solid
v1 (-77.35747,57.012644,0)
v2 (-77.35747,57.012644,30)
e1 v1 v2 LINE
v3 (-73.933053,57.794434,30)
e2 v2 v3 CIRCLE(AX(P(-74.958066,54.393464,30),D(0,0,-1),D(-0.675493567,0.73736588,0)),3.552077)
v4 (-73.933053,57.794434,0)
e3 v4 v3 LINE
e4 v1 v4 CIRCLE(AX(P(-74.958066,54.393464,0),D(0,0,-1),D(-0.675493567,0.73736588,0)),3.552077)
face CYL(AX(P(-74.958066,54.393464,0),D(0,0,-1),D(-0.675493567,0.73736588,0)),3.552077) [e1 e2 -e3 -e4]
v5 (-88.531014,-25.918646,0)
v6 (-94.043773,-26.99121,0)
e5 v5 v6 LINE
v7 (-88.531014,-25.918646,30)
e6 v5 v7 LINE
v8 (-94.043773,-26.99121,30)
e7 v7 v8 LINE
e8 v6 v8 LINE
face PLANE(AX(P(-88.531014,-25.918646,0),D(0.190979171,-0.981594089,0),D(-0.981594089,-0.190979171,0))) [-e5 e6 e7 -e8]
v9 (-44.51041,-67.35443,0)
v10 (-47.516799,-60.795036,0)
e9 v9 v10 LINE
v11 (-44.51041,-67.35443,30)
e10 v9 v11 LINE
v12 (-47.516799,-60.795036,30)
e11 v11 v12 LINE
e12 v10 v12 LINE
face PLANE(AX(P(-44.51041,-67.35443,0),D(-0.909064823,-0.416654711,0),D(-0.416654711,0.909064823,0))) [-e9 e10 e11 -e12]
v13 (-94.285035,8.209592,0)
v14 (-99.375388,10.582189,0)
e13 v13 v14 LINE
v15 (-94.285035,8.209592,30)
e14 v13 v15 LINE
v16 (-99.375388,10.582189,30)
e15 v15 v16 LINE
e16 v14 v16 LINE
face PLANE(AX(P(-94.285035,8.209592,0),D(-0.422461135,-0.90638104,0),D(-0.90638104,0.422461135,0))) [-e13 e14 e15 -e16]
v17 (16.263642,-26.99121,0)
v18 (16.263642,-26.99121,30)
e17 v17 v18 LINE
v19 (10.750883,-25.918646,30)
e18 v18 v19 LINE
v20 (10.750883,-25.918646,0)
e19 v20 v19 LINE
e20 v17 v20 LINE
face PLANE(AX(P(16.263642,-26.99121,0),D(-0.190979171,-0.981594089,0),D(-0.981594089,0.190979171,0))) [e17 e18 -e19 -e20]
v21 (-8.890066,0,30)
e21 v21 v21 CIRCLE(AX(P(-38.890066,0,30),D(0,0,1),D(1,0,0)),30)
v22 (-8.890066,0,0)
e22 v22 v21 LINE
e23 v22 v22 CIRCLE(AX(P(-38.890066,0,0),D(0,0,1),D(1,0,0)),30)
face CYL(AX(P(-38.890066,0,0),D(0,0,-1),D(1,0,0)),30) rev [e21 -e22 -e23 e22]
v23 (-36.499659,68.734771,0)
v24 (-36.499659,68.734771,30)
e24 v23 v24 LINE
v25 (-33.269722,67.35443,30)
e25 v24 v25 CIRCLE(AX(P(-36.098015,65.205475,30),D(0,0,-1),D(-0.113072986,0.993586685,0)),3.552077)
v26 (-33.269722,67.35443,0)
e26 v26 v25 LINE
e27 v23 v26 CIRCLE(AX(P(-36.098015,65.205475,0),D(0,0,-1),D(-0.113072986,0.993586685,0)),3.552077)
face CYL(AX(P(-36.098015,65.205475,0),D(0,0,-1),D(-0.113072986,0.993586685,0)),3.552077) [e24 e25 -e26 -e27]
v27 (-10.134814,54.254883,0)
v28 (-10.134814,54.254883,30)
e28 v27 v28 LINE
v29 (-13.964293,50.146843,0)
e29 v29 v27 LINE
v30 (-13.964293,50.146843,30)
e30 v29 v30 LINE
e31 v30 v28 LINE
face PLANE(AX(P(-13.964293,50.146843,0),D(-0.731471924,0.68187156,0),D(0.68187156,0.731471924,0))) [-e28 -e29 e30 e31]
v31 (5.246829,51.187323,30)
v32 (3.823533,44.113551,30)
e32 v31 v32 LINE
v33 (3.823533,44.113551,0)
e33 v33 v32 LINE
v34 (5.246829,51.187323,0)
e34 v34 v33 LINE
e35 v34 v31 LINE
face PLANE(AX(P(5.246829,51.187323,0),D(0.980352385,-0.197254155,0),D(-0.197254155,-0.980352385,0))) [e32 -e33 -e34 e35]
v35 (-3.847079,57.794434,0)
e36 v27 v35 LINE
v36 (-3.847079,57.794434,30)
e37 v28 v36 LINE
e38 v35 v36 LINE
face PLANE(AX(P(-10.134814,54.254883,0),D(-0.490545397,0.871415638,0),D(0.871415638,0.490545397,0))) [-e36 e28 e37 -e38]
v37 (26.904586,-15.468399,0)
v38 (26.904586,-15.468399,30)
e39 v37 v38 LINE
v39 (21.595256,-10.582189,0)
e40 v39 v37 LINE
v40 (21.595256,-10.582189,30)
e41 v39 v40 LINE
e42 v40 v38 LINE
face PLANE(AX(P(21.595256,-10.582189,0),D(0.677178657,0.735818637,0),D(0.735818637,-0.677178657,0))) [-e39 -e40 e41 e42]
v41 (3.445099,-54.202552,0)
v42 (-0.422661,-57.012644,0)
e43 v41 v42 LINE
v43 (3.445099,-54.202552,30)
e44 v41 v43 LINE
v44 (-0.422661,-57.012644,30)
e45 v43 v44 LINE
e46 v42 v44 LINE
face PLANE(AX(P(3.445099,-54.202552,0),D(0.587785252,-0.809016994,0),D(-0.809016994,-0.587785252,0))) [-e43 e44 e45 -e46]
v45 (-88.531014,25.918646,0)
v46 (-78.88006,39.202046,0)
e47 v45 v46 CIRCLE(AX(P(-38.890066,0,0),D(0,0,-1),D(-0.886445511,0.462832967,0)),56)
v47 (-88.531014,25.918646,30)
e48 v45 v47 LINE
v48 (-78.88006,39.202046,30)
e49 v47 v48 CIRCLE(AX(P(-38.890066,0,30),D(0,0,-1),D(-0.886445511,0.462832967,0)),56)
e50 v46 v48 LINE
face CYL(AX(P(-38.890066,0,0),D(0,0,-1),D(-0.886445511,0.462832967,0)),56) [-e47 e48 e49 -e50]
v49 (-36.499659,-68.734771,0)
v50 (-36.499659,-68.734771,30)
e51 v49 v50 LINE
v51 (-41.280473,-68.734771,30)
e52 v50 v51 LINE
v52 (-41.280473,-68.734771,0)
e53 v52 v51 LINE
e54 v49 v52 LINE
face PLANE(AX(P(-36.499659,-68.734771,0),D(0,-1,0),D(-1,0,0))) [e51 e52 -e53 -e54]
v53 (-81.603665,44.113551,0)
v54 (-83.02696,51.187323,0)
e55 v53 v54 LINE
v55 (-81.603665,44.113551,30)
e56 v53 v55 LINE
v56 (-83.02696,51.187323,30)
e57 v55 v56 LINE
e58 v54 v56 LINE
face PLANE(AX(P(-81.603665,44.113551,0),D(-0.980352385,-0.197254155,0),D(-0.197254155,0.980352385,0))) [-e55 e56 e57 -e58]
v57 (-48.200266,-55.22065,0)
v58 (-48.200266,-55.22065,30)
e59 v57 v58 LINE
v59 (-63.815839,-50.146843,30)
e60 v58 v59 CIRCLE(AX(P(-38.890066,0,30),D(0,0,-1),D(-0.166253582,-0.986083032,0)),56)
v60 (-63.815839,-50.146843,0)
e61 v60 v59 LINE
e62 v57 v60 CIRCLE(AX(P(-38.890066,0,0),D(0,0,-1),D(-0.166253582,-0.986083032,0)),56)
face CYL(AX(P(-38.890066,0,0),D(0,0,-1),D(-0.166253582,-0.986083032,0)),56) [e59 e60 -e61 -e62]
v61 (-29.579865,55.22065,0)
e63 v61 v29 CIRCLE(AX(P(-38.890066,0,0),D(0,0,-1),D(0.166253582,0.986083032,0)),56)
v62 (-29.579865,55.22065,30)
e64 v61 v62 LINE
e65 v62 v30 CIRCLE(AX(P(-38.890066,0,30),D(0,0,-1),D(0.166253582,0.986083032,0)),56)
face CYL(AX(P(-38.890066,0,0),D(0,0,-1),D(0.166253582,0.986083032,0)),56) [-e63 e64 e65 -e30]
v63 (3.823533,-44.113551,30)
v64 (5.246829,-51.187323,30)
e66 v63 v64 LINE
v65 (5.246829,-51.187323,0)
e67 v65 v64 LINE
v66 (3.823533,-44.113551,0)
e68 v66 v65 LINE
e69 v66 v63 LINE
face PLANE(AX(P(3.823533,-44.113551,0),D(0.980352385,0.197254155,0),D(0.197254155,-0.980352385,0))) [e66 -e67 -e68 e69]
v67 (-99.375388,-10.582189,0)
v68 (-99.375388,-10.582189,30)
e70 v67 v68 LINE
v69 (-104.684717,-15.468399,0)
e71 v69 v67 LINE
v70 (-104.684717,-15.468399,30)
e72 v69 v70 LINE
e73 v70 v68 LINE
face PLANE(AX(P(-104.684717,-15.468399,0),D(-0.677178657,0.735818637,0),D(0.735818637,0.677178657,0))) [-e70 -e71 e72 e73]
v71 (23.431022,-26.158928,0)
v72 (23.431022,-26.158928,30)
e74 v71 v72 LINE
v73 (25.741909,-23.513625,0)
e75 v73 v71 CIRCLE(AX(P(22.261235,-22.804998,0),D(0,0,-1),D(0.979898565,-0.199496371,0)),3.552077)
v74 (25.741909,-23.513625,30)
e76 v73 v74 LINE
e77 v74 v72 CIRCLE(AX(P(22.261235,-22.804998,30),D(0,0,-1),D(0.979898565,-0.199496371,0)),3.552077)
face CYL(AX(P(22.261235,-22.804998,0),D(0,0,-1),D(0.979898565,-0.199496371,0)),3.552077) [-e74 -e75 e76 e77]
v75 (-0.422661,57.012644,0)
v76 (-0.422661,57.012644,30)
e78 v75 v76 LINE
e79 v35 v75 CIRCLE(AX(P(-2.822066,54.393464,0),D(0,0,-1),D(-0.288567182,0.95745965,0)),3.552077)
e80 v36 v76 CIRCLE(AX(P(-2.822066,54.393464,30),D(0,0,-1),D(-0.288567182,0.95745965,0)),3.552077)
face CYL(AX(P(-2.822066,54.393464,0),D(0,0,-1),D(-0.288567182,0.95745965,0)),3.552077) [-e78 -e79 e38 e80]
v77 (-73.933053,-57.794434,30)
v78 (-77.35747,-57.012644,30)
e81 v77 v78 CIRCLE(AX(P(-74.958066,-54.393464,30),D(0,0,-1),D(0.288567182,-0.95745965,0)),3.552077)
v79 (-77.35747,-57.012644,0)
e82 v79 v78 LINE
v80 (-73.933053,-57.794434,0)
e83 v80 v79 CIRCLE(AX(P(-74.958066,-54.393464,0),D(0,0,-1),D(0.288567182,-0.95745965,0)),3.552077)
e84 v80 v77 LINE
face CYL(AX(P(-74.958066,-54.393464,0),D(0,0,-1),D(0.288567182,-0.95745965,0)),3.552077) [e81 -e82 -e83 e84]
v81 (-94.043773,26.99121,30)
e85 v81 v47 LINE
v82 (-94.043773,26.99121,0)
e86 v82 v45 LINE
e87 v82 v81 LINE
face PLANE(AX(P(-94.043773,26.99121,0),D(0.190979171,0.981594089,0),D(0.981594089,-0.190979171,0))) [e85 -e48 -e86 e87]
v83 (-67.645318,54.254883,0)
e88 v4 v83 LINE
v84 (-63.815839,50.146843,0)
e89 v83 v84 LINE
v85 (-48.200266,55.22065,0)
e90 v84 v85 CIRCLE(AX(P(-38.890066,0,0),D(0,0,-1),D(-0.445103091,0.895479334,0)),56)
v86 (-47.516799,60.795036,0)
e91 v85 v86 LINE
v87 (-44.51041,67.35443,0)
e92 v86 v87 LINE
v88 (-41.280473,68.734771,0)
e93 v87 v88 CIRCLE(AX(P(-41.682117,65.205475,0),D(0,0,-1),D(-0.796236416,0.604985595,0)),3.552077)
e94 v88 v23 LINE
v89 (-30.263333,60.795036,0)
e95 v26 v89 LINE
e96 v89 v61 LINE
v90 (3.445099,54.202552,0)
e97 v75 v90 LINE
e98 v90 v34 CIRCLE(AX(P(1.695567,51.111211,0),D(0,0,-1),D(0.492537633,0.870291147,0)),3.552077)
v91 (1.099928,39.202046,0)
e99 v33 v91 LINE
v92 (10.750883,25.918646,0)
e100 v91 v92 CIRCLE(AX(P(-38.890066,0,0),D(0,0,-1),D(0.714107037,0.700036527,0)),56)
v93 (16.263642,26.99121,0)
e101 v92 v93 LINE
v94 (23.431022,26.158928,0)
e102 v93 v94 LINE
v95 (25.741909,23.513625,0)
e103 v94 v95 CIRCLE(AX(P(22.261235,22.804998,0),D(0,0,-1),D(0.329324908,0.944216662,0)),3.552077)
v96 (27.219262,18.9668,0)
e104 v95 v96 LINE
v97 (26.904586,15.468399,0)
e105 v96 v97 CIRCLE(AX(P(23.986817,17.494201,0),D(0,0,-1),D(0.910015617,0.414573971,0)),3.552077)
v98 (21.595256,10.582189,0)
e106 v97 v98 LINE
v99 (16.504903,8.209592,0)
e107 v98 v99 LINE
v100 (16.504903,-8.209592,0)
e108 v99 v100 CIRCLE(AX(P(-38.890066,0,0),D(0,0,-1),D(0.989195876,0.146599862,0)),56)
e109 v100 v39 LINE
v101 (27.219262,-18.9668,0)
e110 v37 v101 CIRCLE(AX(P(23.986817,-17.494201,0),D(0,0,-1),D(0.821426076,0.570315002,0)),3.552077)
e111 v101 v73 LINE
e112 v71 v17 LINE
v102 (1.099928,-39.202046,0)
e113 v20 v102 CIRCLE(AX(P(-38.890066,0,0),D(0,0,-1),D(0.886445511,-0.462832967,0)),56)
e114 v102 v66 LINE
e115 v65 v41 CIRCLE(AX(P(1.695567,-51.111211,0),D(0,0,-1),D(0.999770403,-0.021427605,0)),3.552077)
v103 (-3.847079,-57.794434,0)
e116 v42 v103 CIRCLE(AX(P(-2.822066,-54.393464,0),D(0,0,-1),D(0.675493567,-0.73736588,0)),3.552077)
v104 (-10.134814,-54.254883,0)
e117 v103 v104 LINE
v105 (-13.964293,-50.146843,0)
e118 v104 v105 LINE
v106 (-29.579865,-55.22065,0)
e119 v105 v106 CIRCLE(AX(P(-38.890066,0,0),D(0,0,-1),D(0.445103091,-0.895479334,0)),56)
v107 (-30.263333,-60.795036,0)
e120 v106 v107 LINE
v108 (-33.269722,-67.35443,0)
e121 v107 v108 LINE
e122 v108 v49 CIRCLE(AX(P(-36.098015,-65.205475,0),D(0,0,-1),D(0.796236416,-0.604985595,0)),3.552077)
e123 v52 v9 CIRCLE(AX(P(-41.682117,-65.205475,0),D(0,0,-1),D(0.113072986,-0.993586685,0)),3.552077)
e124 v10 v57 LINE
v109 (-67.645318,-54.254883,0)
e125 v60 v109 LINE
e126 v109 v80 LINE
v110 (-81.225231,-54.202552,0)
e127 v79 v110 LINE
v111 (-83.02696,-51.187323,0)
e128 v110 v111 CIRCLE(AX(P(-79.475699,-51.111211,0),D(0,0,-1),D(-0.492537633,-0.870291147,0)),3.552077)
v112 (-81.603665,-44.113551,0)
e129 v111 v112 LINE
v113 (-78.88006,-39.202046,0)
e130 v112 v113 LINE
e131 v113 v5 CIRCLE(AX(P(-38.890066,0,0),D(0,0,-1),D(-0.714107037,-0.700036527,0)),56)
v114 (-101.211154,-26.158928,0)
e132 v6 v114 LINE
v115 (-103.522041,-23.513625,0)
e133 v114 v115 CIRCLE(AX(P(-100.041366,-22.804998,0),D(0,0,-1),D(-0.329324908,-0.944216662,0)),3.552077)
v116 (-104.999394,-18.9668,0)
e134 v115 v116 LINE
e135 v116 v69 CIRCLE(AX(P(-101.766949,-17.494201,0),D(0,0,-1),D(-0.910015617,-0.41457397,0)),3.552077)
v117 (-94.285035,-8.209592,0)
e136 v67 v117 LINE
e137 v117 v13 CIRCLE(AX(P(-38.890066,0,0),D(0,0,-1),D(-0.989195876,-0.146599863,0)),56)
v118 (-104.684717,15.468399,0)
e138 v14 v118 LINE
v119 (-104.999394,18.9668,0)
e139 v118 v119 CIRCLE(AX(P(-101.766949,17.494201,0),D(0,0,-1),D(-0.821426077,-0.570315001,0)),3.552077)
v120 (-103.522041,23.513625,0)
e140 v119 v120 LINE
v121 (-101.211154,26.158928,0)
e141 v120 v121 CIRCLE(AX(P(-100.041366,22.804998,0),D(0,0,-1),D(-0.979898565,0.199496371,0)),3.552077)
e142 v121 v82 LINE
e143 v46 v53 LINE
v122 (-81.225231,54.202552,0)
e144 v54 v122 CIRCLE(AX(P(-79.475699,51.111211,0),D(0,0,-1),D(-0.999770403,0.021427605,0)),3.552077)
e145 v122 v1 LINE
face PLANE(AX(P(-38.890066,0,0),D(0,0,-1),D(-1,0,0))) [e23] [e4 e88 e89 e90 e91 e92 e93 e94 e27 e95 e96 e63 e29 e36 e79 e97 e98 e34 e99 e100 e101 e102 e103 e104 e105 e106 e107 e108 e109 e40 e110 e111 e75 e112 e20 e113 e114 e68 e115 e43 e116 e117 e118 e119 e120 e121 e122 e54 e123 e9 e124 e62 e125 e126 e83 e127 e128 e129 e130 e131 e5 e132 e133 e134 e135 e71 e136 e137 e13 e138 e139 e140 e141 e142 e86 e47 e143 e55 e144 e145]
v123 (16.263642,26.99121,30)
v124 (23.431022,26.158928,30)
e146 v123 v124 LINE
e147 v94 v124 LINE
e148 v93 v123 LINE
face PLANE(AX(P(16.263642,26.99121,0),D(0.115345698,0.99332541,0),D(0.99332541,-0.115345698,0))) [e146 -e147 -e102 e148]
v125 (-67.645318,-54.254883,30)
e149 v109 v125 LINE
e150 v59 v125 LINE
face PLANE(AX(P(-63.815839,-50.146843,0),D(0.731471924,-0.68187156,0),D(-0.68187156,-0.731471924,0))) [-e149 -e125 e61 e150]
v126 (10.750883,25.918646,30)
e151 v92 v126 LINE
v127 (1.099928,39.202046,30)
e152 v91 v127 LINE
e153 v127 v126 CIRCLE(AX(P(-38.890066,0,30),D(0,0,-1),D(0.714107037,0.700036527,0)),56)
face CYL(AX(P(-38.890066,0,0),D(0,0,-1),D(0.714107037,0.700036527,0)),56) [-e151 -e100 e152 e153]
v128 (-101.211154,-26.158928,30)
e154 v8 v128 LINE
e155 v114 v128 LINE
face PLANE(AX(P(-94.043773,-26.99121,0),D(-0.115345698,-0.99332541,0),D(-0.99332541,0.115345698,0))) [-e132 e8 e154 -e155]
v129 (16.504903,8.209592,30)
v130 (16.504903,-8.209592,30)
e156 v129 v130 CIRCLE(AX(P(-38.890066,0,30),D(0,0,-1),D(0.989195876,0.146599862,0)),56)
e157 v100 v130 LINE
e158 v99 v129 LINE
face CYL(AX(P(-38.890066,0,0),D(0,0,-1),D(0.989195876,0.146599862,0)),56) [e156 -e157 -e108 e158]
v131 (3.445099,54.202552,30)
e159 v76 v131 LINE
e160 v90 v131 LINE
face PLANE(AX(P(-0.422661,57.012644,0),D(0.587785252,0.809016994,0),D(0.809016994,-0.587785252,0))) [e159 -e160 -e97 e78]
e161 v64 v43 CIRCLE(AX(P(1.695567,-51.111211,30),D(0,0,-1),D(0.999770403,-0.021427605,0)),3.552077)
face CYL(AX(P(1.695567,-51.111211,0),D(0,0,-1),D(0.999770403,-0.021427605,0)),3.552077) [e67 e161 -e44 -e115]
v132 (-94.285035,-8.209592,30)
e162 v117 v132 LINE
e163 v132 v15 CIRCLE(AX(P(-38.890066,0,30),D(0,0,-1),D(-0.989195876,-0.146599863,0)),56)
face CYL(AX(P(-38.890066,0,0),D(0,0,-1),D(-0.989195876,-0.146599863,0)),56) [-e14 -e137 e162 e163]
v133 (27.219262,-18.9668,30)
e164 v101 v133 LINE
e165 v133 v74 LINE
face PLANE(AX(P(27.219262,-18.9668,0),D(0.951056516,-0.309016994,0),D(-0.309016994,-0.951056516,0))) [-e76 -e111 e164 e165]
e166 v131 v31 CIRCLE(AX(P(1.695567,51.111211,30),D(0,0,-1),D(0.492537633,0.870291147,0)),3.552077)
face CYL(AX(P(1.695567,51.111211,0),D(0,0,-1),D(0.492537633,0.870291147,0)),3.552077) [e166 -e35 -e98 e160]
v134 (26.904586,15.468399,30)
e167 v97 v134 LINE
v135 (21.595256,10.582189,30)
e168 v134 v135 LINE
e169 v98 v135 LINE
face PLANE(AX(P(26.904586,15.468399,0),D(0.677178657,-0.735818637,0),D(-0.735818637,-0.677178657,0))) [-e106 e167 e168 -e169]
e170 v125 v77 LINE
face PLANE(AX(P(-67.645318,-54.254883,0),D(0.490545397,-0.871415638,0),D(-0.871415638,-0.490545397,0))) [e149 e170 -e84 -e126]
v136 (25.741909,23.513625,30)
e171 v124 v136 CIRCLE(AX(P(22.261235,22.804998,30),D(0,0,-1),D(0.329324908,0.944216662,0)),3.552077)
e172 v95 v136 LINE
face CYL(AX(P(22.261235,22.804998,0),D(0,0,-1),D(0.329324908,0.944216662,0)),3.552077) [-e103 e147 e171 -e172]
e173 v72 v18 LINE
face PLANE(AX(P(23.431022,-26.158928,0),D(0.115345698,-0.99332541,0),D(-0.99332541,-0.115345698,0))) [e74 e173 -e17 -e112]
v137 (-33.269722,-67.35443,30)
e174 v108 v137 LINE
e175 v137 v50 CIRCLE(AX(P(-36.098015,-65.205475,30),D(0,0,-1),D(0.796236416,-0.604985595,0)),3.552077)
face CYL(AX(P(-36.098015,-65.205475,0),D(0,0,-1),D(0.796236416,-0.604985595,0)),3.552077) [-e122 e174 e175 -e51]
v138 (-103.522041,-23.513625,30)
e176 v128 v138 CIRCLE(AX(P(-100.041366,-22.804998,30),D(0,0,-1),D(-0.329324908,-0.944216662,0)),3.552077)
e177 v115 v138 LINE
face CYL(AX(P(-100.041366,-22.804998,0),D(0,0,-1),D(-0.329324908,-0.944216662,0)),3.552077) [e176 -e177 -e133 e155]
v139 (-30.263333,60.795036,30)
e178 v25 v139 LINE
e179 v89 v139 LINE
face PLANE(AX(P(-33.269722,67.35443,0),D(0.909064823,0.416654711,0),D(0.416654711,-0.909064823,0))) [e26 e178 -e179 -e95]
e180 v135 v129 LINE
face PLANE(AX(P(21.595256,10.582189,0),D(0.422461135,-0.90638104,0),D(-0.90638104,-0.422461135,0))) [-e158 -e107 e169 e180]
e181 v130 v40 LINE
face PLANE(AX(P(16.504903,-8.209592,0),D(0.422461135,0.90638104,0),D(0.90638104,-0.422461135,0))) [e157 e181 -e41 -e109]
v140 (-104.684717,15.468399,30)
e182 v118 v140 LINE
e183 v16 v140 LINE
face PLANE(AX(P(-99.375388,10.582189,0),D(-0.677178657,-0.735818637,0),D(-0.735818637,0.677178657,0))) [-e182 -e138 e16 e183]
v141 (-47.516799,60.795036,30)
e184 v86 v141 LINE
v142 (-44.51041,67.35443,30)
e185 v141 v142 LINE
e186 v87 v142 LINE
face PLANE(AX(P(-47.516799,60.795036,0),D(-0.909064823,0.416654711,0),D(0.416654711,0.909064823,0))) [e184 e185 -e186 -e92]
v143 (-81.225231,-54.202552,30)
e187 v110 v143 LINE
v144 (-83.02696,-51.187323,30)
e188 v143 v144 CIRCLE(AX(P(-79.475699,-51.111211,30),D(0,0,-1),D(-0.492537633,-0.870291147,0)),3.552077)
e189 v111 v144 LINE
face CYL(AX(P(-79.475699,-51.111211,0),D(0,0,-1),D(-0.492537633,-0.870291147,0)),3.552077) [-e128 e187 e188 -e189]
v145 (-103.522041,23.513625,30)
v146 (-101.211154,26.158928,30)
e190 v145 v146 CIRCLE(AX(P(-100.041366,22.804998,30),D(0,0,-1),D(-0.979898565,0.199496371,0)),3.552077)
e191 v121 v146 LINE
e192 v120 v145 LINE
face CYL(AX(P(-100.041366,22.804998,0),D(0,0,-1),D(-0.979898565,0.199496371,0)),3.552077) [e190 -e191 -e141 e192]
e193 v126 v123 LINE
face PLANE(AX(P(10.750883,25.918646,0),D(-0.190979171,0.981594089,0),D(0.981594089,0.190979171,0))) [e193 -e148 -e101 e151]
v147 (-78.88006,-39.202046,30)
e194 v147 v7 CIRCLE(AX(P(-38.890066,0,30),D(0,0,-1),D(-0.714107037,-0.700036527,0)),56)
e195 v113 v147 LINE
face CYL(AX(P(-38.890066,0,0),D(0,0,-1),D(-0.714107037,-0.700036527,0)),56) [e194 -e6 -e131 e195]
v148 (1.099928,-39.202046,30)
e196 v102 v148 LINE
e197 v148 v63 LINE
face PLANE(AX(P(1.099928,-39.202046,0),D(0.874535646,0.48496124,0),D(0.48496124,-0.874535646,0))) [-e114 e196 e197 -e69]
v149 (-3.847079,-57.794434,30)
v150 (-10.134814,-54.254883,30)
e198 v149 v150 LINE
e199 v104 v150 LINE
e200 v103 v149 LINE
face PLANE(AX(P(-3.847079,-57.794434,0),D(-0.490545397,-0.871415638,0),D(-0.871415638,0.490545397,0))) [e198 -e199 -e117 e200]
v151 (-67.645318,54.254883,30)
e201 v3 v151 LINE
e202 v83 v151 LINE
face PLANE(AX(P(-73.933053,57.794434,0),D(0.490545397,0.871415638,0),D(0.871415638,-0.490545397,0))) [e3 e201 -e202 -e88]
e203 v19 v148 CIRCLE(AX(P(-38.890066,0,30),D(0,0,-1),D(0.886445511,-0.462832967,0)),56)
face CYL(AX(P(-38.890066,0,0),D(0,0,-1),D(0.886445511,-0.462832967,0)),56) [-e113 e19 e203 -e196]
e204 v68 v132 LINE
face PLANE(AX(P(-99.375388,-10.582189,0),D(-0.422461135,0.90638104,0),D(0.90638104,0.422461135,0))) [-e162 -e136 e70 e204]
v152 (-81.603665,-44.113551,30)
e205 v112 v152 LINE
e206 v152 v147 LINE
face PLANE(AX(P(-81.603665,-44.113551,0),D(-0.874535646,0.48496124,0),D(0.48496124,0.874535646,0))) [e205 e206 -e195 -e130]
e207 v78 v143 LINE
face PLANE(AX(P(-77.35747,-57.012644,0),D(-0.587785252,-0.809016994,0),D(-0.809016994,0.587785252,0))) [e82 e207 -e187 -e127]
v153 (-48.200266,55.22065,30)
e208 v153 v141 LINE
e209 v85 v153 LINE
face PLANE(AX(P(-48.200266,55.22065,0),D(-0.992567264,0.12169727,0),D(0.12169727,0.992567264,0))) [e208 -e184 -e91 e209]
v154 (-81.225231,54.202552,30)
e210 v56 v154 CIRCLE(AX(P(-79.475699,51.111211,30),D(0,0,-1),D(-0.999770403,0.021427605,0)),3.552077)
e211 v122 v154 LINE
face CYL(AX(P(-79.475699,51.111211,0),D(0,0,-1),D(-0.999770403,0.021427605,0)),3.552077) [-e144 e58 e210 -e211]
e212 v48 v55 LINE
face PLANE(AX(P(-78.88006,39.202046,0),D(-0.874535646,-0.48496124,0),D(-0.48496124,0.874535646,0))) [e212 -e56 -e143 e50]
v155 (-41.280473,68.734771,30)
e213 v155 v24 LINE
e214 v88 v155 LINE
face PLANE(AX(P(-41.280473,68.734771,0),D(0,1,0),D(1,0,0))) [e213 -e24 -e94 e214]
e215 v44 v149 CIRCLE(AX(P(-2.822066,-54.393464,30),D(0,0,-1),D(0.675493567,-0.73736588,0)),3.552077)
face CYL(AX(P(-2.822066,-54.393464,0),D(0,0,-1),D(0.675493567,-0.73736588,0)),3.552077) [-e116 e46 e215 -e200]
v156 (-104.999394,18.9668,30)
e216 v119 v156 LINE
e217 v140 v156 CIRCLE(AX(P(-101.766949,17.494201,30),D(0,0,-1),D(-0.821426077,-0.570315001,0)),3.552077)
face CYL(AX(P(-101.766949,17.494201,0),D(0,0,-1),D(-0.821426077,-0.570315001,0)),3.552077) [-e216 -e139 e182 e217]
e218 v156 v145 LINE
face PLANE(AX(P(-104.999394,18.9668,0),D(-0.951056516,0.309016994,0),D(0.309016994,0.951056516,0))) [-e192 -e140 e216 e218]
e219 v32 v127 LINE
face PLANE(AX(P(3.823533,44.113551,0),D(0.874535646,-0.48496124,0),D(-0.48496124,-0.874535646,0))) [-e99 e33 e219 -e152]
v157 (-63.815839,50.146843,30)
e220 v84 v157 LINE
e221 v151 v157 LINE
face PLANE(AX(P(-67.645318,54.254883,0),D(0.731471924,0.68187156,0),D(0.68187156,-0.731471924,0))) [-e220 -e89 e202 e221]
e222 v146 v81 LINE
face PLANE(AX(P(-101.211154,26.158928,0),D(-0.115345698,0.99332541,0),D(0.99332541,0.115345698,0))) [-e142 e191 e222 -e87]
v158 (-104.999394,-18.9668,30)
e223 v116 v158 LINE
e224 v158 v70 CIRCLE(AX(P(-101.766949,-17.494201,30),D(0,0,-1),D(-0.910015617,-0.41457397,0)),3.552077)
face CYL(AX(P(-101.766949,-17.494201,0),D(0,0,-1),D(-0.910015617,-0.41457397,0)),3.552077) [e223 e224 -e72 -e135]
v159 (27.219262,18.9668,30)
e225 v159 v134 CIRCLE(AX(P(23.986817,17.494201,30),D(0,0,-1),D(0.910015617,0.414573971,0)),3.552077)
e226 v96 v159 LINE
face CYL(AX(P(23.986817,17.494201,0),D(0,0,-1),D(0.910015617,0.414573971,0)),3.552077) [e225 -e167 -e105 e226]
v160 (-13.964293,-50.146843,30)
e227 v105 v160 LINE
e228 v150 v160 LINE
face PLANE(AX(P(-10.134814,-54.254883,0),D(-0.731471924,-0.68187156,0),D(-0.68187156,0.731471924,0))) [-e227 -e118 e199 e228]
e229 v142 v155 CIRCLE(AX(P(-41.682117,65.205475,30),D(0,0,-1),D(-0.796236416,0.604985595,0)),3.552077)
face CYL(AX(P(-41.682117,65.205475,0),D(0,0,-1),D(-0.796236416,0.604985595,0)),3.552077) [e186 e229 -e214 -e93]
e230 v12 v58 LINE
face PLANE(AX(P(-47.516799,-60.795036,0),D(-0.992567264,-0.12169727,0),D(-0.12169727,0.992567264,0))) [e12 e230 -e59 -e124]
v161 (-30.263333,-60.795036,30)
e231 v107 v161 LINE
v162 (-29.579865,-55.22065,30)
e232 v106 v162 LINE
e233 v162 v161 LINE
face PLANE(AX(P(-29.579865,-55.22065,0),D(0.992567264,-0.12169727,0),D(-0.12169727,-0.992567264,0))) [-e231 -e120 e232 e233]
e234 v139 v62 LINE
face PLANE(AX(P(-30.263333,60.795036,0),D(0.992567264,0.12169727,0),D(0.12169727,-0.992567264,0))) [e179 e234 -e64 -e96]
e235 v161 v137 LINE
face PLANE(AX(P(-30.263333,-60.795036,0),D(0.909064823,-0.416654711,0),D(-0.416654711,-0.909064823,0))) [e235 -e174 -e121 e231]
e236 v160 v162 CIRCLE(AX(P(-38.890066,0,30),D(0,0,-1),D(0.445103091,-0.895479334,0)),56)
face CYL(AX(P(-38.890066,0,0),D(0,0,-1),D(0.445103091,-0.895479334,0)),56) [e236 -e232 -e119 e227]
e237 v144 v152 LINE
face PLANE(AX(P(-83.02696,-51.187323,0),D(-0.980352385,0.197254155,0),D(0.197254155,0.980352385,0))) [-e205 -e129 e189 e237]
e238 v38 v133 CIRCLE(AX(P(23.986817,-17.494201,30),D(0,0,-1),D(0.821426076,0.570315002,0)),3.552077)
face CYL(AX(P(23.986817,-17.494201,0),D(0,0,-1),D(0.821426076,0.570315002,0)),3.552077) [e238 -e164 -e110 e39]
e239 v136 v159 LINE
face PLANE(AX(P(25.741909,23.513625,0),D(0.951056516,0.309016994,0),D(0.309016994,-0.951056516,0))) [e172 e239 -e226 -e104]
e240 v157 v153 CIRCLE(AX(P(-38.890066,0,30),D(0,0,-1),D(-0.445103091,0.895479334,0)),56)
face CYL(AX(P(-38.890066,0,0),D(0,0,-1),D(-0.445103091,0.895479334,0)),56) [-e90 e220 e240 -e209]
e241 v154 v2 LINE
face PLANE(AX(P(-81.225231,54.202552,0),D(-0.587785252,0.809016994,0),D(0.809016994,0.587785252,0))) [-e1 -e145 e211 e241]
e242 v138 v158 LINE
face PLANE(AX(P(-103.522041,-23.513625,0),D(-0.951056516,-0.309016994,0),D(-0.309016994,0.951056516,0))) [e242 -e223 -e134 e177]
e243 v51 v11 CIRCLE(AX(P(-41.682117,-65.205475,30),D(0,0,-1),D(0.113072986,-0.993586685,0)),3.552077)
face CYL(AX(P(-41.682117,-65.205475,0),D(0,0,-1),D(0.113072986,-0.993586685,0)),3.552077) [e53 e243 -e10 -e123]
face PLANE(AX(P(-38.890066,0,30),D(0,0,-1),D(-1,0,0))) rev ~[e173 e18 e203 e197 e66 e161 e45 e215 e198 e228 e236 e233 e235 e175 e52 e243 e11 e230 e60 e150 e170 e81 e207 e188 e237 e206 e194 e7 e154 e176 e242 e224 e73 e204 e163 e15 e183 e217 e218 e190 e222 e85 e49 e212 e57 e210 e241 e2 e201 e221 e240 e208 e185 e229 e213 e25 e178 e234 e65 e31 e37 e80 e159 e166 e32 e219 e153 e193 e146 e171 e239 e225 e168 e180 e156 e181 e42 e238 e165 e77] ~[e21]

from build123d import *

# Parameters (mm, degrees)
SZKIC1_R                    = 30
DODANIE_WYCI_GNI_CIE1_DEPTH = 30


with BuildPart() as part:
    # Szkic1 → Dodanie-wyciągnięcie1 (new body)
    with BuildSketch(Plane.XY):
        with BuildLine():
            Line((-48.200266446, 55.220649807), (-47.516798881, 60.795035566))
            Line((-47.516798881, 60.795035566), (-44.510409747, 67.354430039))
            ThreePointArc((-44.510409747, 67.354430039), (-43.078000693, 68.471781184), (-41.280473034, 68.734770905))
            Line((-41.280473034, 68.734770905), (-36.499658689, 68.734770905))
            ThreePointArc((-36.499658689, 68.734770905), (-34.70213103, 68.471781184), (-33.269721976, 67.354430039))
            Line((-33.269721976, 67.354430039), (-30.263332842, 60.795035566))
            Line((-30.263332842, 60.795035566), (-29.579865278, 55.220649807))
            ThreePointArc((-29.579865278, 55.220649807), (-21.585114177, 53.259164913), (-13.964292777, 50.146842733))
            Line((-13.964292777, 50.146842733), (-10.134814162, 54.254883391))
            Line((-10.134814162, 54.254883391), (-3.847078926, 57.794433797))
            ThreePointArc((-3.847078926, 57.794433797), (-2.031473134, 57.856440945), (-0.42266123, 57.01264385))
            Line((-0.42266123, 57.01264385), (3.445098822, 54.202551684))
            ThreePointArc((3.445098822, 54.202551684), (4.744747767, 52.933228281), (5.24682851, 51.187323299))
            Line((5.24682851, 51.187323299), (3.823533075, 44.113550502))
            Line((3.823533075, 44.113550502), (1.09992821, 39.202045535))
            ThreePointArc((1.09992821, 39.202045535), (6.414885823, 32.915974128), (10.75088277, 25.918646164))
            Line((10.75088277, 25.918646164), (16.263641763, 26.991209816))
            Line((16.263641763, 26.991209816), (23.431021953, 26.158928205))
            ThreePointArc((23.431021953, 26.158928205), (24.936324781, 25.141906732), (25.741909464, 23.513624632))
            Line((25.741909464, 23.513624632), (27.219262344, 18.966799996))
            ThreePointArc((27.219262344, 18.966799996), (27.52461085, 17.17598131), (26.904585503, 15.468398852))
            Line((26.904585503, 15.468398852), (21.595255981, 10.582188511))
            Line((21.595255981, 10.582188511), (16.504903173, 8.209592297))
            ThreePointArc((16.504903173, 8.209592297), (17.109934138, 0), (16.504903173, -8.209592297))
            Line((16.504903173, -8.209592297), (21.595255981, -10.582188511))
            Line((21.595255981, -10.582188511), (26.904585503, -15.468398852))
            ThreePointArc((26.904585503, -15.468398852), (27.52461085, -17.17598131), (27.219262344, -18.966799996))
            Line((27.219262344, -18.966799996), (25.741909464, -23.513624632))
            ThreePointArc((25.741909464, -23.513624632), (24.936324781, -25.141906732), (23.431021953, -26.158928205))
            Line((23.431021953, -26.158928205), (16.263641763, -26.991209816))
            Line((16.263641763, -26.991209816), (10.75088277, -25.918646164))
            ThreePointArc((10.75088277, -25.918646164), (6.414885823, -32.915974128), (1.09992821, -39.202045535))
            Line((1.09992821, -39.202045535), (3.823533075, -44.113550502))
            Line((3.823533075, -44.113550502), (5.24682851, -51.187323299))
            ThreePointArc((5.24682851, -51.187323299), (4.744747767, -52.933228281), (3.445098822, -54.202551684))
            Line((3.445098822, -54.202551684), (-0.42266123, -57.01264385))
            ThreePointArc((-0.42266123, -57.01264385), (-2.031473134, -57.856440945), (-3.847078926, -57.794433797))
            Line((-3.847078926, -57.794433797), (-10.134814162, -54.254883391))
            Line((-10.134814162, -54.254883391), (-13.964292777, -50.146842733))
            ThreePointArc((-13.964292777, -50.146842733), (-21.585114177, -53.259164913), (-29.579865278, -55.220649807))
            Line((-29.579865278, -55.220649807), (-30.263332842, -60.795035566))
            Line((-30.263332842, -60.795035566), (-33.269721976, -67.354430039))
            ThreePointArc((-33.269721976, -67.354430039), (-34.70213103, -68.471781184), (-36.499658689, -68.734770905))
            Line((-36.499658689, -68.734770905), (-41.280473034, -68.734770905))
            ThreePointArc((-41.280473034, -68.734770905), (-43.078000693, -68.471781184), (-44.510409747, -67.354430039))
            Line((-44.510409747, -67.354430039), (-47.516798881, -60.795035566))
            Line((-47.516798881, -60.795035566), (-48.200266446, -55.220649807))
            ThreePointArc((-48.200266446, -55.220649807), (-56.195017547, -53.259164913), (-63.815838947, -50.146842733))
            Line((-63.815838947, -50.146842733), (-67.645317562, -54.254883391))
            Line((-67.645317562, -54.254883391), (-73.933052797, -57.794433797))
            ThreePointArc((-73.933052797, -57.794433797), (-75.74865859, -57.856440945), (-77.357470494, -57.01264385))
            Line((-77.357470494, -57.01264385), (-81.225230545, -54.202551684))
            ThreePointArc((-81.225230545, -54.202551684), (-82.52487949, -52.933228281), (-83.026960233, -51.187323299))
            Line((-83.026960233, -51.187323299), (-81.603664799, -44.113550502))
            Line((-81.603664799, -44.113550502), (-78.880059934, -39.202045535))
            ThreePointArc((-78.880059934, -39.202045535), (-84.195017547, -32.915974128), (-88.531014493, -25.918646164))
            Line((-88.531014493, -25.918646164), (-94.043773486, -26.991209816))
            Line((-94.043773486, -26.991209816), (-101.211153677, -26.158928205))
            ThreePointArc((-101.211153677, -26.158928205), (-102.716456505, -25.141906732), (-103.522041188, -23.513624632))
            Line((-103.522041188, -23.513624632), (-104.999394067, -18.966799996))
            ThreePointArc((-104.999394067, -18.966799996), (-105.304742573, -17.17598131), (-104.684717227, -15.468398852))
            Line((-104.684717227, -15.468398852), (-99.375387704, -10.582188511))
            Line((-99.375387704, -10.582188511), (-94.285034896, -8.209592297))
            ThreePointArc((-94.285034896, -8.209592297), (-94.890065862, 0), (-94.285034896, 8.209592297))
            Line((-94.285034896, 8.209592297), (-99.375387704, 10.582188511))
            Line((-99.375387704, 10.582188511), (-104.684717227, 15.468398852))
            ThreePointArc((-104.684717227, 15.468398852), (-105.304742573, 17.17598131), (-104.999394067, 18.966799996))
            Line((-104.999394067, 18.966799996), (-103.522041188, 23.513624632))
            ThreePointArc((-103.522041188, 23.513624632), (-102.716456505, 25.141906732), (-101.211153677, 26.158928205))
            Line((-101.211153677, 26.158928205), (-94.043773486, 26.991209816))
            Line((-94.043773486, 26.991209816), (-88.531014493, 25.918646164))
            ThreePointArc((-88.531014493, 25.918646164), (-84.195017547, 32.915974128), (-78.880059934, 39.202045535))
            Line((-78.880059934, 39.202045535), (-81.603664799, 44.113550502))
            Line((-81.603664799, 44.113550502), (-83.026960233, 51.187323299))
            ThreePointArc((-83.026960233, 51.187323299), (-82.52487949, 52.933228281), (-81.225230545, 54.202551684))
            Line((-81.225230545, 54.202551684), (-77.357470494, 57.01264385))
            ThreePointArc((-77.357470494, 57.01264385), (-75.74865859, 57.856440945), (-73.933052797, 57.794433797))
            Line((-73.933052797, 57.794433797), (-67.645317562, 54.254883391))
            Line((-67.645317562, 54.254883391), (-63.815838947, 50.146842733))
            ThreePointArc((-63.815838947, 50.146842733), (-56.195017547, 53.259164913), (-48.200266446, 55.220649807))
        make_face()
        with Locations((-38.890065862, 0)):
            Circle(SZKIC1_R, mode=Mode.SUBTRACT)
    extrude(amount=DODANIE_WYCI_GNI_CIE1_DEPTH)


solid = part.part
